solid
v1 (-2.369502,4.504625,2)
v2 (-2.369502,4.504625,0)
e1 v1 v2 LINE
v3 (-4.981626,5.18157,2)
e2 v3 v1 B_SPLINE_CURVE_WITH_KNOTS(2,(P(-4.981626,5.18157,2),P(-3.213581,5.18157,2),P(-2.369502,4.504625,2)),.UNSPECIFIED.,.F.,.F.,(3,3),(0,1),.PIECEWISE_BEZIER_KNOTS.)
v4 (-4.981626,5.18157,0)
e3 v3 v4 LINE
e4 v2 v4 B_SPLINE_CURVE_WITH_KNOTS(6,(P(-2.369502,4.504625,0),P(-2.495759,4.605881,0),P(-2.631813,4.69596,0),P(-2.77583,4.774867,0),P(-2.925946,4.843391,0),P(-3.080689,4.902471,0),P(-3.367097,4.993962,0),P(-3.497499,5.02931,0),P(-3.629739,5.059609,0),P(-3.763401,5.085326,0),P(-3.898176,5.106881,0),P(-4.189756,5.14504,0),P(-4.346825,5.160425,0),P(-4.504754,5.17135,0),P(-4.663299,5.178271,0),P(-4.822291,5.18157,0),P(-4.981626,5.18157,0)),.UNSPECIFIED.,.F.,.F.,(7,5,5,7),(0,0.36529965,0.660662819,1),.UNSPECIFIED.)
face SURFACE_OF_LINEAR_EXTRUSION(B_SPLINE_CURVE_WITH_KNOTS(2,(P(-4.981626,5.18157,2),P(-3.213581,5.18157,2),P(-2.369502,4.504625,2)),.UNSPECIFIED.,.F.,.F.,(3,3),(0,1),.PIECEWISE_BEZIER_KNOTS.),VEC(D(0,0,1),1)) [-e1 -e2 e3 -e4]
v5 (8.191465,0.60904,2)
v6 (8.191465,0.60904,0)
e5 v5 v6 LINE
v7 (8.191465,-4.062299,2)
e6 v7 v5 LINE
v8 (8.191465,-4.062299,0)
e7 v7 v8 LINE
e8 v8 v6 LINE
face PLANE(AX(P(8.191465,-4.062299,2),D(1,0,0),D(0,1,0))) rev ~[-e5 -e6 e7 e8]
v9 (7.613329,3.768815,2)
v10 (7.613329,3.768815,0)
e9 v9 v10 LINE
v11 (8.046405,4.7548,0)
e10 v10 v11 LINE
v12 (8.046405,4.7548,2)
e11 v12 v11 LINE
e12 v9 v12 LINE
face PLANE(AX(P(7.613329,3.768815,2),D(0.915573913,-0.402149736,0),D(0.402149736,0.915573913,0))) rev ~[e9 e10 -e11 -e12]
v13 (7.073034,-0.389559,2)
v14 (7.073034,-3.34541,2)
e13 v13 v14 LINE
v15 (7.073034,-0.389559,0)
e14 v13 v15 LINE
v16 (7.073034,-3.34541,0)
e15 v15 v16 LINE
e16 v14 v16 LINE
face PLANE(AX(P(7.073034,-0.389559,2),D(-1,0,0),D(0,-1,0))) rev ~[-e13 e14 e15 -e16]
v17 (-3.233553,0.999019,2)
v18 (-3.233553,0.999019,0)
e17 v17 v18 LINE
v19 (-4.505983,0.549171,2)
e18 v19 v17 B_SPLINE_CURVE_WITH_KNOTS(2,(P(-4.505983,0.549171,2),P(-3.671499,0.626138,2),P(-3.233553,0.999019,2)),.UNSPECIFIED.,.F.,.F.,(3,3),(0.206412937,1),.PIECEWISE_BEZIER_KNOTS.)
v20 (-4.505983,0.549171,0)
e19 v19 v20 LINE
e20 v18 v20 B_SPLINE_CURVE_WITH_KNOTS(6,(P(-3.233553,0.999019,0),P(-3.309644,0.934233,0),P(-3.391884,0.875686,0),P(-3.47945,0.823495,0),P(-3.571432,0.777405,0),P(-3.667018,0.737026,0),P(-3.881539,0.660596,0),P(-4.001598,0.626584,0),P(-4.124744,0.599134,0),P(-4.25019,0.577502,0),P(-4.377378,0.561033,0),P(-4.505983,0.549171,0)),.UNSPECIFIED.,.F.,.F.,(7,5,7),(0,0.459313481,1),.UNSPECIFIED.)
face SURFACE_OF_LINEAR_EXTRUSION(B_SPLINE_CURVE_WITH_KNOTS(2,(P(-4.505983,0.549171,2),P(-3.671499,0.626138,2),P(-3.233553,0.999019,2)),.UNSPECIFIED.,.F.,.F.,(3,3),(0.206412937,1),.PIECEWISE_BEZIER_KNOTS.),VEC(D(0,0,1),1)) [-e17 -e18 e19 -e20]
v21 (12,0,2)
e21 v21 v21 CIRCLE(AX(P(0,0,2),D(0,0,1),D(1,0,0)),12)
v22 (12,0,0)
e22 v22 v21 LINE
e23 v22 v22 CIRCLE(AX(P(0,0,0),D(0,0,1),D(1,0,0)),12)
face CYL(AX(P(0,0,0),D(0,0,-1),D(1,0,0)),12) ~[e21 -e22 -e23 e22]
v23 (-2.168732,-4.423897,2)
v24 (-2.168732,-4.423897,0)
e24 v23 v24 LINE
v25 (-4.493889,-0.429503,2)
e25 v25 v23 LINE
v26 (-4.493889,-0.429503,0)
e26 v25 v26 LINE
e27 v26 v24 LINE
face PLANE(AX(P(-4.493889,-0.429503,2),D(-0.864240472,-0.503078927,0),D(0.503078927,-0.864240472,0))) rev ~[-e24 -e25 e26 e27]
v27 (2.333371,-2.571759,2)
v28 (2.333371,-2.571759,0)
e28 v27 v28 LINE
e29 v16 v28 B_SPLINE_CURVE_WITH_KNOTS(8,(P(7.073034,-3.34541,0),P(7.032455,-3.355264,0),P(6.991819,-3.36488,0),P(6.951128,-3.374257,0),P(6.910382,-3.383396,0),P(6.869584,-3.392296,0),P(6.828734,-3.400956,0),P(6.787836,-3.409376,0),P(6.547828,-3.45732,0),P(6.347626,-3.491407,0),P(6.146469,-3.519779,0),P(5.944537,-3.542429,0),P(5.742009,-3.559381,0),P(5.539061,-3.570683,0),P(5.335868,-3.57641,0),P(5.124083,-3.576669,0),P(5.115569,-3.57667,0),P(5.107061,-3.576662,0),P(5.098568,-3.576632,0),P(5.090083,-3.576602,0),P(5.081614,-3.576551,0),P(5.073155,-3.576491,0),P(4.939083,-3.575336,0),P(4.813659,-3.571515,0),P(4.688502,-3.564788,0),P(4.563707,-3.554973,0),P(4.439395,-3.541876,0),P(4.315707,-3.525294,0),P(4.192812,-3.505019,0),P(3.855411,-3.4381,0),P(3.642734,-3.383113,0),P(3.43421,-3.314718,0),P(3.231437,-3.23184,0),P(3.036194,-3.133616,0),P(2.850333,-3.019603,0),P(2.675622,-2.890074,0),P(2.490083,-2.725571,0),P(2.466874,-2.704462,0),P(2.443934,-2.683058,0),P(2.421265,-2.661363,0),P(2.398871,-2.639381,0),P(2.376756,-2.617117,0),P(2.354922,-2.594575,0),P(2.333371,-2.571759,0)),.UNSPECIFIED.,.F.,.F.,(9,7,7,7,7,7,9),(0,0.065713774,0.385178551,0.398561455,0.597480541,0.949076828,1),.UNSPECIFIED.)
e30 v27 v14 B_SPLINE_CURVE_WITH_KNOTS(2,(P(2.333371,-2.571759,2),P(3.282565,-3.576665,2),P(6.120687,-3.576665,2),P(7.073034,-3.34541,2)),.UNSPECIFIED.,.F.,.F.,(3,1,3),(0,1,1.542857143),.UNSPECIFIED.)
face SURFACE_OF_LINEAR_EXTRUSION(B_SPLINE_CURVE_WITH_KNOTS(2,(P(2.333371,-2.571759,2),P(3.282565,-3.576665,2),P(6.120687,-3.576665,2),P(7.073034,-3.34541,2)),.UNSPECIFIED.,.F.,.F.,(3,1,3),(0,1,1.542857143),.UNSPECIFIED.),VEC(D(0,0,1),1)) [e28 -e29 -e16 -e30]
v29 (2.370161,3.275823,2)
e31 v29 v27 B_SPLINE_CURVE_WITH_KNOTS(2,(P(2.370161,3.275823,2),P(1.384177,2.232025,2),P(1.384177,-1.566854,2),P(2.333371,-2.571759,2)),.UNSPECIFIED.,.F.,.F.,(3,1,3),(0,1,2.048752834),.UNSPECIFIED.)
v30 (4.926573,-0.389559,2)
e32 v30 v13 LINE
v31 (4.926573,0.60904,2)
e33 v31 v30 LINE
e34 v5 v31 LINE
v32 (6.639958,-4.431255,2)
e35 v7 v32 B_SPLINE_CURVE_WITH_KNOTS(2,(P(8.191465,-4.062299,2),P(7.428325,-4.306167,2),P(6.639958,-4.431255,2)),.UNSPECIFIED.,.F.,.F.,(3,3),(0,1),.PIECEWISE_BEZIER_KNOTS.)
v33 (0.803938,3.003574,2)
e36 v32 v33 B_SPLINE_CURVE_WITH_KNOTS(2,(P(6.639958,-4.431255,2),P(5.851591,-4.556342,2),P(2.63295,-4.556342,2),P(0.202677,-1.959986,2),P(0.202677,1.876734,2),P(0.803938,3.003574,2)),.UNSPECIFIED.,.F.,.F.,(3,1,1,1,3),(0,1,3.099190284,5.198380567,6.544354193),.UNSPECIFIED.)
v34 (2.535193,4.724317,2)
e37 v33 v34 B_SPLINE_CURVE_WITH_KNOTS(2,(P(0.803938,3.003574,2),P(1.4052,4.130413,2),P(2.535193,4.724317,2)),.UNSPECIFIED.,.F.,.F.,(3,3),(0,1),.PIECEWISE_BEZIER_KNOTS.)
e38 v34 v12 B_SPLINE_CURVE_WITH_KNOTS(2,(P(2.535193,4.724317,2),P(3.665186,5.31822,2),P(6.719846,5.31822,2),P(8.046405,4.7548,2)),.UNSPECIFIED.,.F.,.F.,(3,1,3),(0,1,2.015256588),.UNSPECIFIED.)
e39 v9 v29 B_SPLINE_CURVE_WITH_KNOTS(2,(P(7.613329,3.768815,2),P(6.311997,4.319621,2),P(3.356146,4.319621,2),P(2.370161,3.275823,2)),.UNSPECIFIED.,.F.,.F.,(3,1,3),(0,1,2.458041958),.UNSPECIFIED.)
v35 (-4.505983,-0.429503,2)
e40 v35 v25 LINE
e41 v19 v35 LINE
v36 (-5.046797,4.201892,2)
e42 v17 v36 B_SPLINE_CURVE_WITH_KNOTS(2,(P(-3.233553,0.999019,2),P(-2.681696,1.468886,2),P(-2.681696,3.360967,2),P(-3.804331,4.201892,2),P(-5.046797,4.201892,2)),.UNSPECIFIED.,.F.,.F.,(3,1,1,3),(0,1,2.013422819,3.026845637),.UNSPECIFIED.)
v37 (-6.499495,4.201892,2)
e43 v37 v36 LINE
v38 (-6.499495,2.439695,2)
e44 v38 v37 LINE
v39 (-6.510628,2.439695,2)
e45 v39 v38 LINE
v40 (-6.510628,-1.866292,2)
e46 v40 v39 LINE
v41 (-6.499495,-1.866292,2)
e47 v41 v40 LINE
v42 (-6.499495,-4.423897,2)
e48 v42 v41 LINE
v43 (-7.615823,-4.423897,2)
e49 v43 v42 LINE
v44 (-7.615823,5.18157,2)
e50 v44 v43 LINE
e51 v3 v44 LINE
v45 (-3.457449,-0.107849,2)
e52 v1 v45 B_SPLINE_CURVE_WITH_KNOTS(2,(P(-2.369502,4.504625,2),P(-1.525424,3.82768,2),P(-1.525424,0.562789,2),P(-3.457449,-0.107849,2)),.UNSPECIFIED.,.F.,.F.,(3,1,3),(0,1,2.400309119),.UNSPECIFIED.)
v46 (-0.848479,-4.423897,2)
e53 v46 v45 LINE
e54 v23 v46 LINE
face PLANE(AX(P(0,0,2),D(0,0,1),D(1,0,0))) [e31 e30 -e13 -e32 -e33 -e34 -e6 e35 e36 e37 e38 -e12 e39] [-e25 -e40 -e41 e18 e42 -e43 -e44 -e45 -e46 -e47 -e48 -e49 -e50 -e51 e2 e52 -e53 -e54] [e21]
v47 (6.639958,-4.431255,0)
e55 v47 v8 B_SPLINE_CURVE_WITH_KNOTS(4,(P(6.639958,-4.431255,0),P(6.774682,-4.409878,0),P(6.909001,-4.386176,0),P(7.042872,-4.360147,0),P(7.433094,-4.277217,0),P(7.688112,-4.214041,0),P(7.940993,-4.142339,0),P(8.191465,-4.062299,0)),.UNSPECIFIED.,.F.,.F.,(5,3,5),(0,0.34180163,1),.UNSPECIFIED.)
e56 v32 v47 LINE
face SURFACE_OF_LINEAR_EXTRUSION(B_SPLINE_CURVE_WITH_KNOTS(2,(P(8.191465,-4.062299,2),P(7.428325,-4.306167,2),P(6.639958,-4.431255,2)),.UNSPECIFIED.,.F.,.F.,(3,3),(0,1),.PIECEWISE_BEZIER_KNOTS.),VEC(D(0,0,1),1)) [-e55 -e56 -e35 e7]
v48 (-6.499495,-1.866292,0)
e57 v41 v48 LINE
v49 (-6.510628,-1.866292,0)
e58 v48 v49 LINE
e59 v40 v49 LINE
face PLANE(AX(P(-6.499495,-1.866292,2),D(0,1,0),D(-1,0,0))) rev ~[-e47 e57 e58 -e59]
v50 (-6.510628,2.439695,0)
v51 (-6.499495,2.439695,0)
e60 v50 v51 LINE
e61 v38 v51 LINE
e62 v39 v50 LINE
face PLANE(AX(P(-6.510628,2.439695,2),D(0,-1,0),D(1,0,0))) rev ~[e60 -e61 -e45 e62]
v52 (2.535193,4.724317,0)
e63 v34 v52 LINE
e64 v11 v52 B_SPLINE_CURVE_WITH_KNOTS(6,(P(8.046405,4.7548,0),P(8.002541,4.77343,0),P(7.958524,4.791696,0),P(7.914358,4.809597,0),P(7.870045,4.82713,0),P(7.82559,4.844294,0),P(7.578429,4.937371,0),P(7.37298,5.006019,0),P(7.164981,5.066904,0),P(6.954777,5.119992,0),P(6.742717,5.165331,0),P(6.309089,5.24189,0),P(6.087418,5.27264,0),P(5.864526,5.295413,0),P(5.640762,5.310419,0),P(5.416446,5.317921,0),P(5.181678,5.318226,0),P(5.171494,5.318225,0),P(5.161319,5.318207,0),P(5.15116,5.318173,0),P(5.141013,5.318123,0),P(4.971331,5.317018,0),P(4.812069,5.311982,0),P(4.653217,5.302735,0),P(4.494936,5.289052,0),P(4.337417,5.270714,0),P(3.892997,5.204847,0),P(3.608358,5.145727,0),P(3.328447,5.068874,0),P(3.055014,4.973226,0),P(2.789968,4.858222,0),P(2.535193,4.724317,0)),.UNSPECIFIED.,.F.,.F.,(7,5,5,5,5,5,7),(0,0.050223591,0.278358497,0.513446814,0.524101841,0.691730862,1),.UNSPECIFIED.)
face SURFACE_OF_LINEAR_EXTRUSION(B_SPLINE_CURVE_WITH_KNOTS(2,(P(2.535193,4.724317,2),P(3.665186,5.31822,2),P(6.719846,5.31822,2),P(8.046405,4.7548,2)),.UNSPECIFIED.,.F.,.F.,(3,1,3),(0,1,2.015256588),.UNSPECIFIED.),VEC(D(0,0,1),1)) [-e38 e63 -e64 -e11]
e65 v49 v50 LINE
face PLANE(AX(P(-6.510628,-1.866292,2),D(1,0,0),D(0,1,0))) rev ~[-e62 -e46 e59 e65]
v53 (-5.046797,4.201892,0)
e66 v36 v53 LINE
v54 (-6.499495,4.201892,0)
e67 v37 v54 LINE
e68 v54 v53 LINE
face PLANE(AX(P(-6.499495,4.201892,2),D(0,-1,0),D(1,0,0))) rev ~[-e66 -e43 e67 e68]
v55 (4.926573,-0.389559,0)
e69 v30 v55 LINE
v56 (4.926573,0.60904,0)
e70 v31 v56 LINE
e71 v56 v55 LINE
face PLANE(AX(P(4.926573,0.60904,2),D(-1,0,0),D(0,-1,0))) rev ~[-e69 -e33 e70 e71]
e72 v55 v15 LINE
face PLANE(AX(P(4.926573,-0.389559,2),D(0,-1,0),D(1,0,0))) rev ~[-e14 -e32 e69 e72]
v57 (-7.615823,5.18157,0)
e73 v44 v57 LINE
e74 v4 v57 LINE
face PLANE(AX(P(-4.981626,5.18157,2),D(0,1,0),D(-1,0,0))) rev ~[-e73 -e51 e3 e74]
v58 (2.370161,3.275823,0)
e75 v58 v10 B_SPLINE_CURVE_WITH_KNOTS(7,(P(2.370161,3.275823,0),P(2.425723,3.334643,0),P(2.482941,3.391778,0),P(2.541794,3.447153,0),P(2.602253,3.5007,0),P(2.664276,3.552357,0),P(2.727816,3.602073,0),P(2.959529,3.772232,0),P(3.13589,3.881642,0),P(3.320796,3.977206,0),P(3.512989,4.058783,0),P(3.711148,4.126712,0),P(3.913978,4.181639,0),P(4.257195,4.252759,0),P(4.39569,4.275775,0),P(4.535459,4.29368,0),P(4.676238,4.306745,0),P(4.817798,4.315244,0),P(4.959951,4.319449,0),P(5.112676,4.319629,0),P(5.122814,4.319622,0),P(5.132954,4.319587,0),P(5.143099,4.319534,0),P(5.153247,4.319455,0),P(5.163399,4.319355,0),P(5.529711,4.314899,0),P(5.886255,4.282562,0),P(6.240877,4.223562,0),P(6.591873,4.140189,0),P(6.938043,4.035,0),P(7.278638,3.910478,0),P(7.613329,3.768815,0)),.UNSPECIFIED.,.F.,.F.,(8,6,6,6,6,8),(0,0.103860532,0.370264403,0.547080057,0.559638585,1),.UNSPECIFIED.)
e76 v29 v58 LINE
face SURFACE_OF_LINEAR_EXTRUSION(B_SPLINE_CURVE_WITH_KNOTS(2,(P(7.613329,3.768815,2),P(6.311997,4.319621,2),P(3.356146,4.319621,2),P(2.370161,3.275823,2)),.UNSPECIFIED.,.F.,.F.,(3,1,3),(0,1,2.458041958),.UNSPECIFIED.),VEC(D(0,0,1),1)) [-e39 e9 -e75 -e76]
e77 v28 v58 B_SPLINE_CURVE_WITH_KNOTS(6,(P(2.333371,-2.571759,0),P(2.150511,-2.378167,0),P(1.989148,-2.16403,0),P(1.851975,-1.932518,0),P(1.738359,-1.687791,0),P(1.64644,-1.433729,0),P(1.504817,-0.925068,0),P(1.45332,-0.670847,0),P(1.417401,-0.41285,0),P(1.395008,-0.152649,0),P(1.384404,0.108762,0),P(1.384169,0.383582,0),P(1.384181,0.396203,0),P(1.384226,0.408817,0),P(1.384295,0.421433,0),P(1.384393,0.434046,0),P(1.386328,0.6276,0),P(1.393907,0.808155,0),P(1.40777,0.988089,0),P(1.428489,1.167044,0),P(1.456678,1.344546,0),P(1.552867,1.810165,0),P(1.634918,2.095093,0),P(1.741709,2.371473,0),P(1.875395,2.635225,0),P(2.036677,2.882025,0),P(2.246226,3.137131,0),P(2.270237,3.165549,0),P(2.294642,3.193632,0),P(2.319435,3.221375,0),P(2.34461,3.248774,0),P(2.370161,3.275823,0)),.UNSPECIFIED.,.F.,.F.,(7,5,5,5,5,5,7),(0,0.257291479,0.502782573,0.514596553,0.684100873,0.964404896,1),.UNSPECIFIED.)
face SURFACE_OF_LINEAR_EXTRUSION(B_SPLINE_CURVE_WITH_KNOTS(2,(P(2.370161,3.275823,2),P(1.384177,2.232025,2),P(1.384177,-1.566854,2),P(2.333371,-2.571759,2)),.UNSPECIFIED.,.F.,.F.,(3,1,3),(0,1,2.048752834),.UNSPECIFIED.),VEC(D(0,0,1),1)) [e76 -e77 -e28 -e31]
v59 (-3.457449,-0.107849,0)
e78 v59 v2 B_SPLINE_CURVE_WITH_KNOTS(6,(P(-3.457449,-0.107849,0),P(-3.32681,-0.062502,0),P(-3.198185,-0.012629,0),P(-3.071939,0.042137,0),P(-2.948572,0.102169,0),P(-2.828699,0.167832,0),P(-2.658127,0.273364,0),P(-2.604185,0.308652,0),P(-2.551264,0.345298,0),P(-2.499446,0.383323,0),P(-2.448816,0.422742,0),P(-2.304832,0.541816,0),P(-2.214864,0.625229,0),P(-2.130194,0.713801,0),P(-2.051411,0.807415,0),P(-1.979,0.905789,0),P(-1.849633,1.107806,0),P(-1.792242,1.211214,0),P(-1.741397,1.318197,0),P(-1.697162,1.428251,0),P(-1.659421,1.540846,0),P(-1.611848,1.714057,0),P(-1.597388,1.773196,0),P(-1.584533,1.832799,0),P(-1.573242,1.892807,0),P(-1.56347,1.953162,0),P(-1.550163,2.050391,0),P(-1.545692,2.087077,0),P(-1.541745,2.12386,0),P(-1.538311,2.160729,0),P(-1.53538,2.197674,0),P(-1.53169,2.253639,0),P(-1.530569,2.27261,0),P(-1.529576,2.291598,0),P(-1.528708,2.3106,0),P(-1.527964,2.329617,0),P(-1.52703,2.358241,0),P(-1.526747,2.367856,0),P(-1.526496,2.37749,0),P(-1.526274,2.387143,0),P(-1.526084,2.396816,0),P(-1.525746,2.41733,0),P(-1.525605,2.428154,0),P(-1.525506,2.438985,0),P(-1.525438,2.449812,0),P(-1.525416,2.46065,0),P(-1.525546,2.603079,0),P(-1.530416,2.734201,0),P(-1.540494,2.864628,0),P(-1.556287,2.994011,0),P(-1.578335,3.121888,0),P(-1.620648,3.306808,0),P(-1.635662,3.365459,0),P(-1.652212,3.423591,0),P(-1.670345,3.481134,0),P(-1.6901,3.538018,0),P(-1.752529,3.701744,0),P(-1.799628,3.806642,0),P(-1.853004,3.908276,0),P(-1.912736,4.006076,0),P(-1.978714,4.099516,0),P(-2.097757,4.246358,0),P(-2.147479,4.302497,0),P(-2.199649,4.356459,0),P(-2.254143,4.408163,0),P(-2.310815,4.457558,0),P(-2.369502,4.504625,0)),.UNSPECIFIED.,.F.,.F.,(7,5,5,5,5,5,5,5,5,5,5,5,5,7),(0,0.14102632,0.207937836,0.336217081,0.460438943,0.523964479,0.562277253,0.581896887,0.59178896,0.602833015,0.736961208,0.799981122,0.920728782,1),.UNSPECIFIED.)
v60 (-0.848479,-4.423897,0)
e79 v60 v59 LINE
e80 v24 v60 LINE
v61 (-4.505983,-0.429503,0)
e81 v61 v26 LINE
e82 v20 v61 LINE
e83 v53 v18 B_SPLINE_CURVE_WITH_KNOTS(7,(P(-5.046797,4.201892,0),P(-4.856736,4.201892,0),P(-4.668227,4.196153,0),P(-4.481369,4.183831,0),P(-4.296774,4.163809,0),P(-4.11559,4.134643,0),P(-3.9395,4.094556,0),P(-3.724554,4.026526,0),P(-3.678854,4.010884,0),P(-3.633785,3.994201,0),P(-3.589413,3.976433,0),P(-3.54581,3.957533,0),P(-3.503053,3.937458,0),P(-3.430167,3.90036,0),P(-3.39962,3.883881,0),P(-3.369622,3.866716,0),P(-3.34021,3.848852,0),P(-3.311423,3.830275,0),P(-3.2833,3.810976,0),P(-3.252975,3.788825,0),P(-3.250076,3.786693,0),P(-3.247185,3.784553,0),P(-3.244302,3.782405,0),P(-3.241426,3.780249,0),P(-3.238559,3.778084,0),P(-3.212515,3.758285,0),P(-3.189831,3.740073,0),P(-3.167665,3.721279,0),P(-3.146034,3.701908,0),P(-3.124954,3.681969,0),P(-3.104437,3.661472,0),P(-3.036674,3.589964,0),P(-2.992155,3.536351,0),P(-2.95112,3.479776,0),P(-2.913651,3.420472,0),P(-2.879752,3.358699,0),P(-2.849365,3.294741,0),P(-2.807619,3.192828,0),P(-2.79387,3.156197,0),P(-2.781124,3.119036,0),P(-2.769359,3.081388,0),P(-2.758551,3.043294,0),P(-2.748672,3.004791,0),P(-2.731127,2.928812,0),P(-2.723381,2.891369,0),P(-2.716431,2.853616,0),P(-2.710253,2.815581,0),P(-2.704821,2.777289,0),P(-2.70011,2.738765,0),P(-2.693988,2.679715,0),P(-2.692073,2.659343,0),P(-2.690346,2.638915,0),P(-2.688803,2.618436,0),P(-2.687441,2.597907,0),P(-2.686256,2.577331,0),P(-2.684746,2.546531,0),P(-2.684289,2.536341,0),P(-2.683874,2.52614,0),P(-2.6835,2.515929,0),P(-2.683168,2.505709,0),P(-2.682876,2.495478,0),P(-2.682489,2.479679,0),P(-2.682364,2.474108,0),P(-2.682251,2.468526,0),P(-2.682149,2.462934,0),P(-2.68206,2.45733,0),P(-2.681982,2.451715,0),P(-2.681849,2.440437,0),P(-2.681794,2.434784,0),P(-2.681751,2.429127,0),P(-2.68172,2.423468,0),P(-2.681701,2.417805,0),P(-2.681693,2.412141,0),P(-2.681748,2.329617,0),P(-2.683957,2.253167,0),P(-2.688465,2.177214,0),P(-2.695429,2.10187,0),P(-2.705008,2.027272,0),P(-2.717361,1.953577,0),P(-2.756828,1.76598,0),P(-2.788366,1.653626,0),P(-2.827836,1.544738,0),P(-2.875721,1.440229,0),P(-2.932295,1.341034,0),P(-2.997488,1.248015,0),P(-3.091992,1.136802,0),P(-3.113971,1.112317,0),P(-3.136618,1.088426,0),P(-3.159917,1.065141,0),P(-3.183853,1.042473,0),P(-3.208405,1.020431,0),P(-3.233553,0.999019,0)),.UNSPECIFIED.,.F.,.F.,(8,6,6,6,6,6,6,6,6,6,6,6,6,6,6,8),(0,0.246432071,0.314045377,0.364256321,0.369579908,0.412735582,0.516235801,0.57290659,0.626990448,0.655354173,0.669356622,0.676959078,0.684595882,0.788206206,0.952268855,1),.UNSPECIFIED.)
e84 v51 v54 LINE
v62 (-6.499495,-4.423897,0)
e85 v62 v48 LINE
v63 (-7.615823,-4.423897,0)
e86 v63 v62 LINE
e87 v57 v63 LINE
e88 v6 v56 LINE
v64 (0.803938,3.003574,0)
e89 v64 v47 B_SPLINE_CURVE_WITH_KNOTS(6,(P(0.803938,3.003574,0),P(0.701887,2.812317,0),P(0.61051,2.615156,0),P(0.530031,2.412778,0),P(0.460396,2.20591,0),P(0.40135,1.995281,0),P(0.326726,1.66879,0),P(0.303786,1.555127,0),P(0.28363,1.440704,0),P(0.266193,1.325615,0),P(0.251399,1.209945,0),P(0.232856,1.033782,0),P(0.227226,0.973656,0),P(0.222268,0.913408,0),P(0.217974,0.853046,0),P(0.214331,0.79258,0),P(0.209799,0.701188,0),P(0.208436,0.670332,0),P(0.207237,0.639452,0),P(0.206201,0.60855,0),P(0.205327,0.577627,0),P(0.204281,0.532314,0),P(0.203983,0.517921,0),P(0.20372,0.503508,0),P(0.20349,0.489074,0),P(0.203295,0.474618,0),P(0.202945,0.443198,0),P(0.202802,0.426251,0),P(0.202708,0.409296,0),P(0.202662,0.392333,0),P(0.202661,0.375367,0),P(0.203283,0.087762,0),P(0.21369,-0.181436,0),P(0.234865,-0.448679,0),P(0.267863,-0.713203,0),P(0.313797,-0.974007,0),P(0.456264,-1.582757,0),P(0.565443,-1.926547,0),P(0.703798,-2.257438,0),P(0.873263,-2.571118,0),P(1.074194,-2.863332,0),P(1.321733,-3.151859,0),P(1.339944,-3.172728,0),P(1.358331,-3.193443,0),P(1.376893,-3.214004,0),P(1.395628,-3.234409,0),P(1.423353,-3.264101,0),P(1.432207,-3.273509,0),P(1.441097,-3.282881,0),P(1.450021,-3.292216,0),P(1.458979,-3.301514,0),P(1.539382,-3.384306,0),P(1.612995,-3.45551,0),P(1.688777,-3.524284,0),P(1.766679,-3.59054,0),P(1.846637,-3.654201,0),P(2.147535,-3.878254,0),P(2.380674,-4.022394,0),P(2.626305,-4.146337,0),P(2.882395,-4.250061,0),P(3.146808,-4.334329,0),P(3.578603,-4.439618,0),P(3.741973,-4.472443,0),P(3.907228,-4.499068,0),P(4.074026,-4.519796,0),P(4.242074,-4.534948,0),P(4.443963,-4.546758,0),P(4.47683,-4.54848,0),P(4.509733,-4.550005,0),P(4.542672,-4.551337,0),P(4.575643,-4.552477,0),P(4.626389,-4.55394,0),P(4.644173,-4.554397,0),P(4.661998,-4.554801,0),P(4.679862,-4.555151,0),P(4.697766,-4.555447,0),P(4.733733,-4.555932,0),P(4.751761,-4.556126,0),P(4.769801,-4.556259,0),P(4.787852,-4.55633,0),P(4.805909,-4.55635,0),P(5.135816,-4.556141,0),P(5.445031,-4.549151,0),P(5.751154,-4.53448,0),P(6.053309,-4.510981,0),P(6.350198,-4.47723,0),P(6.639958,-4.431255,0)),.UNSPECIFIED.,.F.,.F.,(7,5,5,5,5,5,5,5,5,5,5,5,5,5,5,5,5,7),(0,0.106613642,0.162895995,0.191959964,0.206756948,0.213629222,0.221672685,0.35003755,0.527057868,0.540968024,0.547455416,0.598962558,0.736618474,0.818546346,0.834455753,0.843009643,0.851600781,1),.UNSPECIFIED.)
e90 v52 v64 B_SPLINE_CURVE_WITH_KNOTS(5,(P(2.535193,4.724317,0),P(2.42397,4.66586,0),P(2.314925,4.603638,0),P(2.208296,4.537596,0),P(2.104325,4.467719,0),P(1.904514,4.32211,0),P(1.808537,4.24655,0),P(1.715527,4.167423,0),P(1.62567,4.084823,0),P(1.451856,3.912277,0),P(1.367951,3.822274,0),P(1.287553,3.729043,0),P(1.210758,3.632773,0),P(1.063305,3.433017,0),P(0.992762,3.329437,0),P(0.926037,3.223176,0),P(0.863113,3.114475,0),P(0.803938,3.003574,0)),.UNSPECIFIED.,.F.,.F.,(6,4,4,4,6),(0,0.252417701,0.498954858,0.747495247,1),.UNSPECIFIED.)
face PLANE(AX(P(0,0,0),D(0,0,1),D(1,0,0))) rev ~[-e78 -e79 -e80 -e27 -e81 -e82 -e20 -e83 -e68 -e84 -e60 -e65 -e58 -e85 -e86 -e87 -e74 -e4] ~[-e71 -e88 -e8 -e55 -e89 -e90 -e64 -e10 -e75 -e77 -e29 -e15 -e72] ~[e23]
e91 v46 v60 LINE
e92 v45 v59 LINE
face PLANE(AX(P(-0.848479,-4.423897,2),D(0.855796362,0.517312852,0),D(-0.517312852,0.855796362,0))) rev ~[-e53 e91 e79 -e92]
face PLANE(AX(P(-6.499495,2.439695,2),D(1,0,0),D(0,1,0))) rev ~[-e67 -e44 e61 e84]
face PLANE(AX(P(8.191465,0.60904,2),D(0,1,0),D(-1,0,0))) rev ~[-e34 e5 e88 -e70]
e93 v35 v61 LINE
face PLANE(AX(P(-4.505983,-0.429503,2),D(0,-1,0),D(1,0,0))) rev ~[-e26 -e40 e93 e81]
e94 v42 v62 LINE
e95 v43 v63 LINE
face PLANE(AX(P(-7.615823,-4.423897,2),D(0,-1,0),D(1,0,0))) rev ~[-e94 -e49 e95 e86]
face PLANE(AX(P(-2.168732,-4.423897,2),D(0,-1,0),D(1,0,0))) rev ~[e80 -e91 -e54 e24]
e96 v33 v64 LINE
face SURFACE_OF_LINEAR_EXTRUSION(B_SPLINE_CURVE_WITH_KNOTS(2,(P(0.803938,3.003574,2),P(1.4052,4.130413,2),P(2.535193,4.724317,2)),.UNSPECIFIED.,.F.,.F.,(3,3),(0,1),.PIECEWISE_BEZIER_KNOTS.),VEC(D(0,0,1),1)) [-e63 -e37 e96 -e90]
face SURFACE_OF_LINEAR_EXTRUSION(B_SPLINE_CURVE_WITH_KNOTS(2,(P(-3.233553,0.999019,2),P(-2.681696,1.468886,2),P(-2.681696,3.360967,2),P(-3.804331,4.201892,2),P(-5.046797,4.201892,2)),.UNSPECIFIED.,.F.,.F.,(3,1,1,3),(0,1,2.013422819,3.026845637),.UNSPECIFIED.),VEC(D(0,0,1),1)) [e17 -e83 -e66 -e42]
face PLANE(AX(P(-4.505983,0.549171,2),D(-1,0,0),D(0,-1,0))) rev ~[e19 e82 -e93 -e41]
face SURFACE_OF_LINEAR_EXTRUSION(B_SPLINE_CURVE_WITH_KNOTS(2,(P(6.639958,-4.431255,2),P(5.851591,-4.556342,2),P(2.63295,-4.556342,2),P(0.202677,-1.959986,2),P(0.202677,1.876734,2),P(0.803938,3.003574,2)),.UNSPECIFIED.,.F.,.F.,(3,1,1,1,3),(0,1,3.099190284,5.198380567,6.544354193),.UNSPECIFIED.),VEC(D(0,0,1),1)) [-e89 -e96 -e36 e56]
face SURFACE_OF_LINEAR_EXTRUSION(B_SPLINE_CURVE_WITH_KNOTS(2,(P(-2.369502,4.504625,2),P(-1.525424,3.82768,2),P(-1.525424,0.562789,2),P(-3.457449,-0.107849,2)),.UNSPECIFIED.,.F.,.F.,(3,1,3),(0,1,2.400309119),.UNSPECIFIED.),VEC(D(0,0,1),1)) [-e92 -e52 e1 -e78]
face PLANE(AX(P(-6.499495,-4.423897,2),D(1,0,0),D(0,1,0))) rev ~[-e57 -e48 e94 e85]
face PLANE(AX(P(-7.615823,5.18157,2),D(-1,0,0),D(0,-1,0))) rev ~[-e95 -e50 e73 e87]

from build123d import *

# Parameters (mm, degrees)
F0_R     = 12
F1_DEPTH = 2
F3_DEPTH = 25


with BuildPart() as f1:
    # F0 (on Top) → F1 (new body)
    with BuildSketch(Plane.XY):
        Circle(F0_R)
    extrude(amount=F1_DEPTH)

    # F2 (on face) → F3 (cut)
    with BuildSketch(Plane.XY.offset(2)):
        with BuildLine():
            Line((-6.5106279217, -1.8662924413), (-6.5106279217, 2.4396951776))
            Line((-6.5106279217, 2.4396951776), (-6.4994953498, 2.4396951776))
            Line((-6.4994953498, 2.4396951776), (-6.4994953498, 4.2018918664))
            Line((-6.4994953498, 4.2018918664), (-5.0467973821, 4.2018918664))
            add(Edge.make_bspline(
                [(-3.2430132195, 3.7814293576), (-3.8043306687, 4.2018918664), (-5.0467973821, 4.2018918664)],
                knots=[0, 0, 0, 1, 1, 1], degree=2))
            add(Edge.make_bspline(
                [(-2.6816957703, 2.4086192665), (-2.6816957703, 3.3609668488), (-3.2430132195, 3.7814293576)],
                knots=[0, 0, 0, 1, 1, 1], degree=2))
            add(Edge.make_bspline(
                [(-3.233552813, 0.9990187059), (-2.6816957703, 1.4688855594), (-2.6816957703, 2.4086192665)],
                knots=[0, 0, 0, 1, 1, 1], degree=2))
            add(Edge.make_bspline(
                [(-4.5059826225, 0.5491711407), (-3.6714994229, 0.6261384495), (-3.233552813, 0.9990187059)],
                knots=[0.2064129368, 0.2064129368, 0.2064129368, 1, 1, 1], degree=2))
            Line((-4.5059826225, 0.5491711407), (-4.5059826225, -0.4295026676))
            Line((-4.5059826225, -0.4295026676), (-4.493889183, -0.4295026676))
            Line((-4.493889183, -0.4295026676), (-2.1687315096, -4.4238965008))
            Line((-2.1687315096, -4.4238965008), (-0.8484792321, -4.4238965008))
            Line((-0.8484792321, -4.4238965008), (-3.4574490989, -0.1078488484))
            add(Edge.make_bspline(
                [(-1.5254238712, 2.4674840177), (-1.5254238712, 0.562788853), (-3.4574490989, -0.1078488484)],
                knots=[0, 0, 0, 1, 1, 1], degree=2))
            add(Edge.make_bspline(
                [(-2.3695023575, 4.5046248727), (-1.5254238712, 3.8276802336), (-1.5254238712, 2.4674840177)],
                knots=[0, 0, 0, 1, 1, 1], degree=2))
            add(Edge.make_bspline(
                [(-4.9816256932, 5.1815695118), (-3.2135808439, 5.1815695118), (-2.3695023575, 4.5046248727)],
                knots=[0, 0, 0, 1, 1, 1], degree=2))
            Line((-4.9816256932, 5.1815695118), (-7.6158233106, 5.1815695118))
            Line((-7.6158233106, 5.1815695118), (-7.6158233106, -4.4238965008))
            Line((-7.6158233106, -4.4238965008), (-6.4994953498, -4.4238965008))
            Line((-6.4994953498, -4.4238965008), (-6.4994953498, -1.8662924413))
            Line((-6.4994953498, -1.8662924413), (-6.5106279217, -1.8662924413))
        make_face()
        with BuildLine():
            Line((8.1914647062, 0.609039729), (4.9265733257, 0.609039729))
            Line((4.9265733257, 0.609039729), (4.9265733257, -0.3895587293))
            Line((4.9265733257, -0.3895587293), (7.0730344329, -0.3895587293))
            Line((7.0730344329, -0.3895587293), (7.0730344329, -3.3454101659))
            add(Edge.make_bspline(
                [(5.1220883923, -3.5766645457), (6.1206868506, -3.5766645457), (7.0730344329, -3.3454101659)],
                knots=[0, 0, 0, 1, 1, 1], degree=2))
            add(Edge.make_bspline(
                [(2.3333708029, -2.5717591498), (3.2825649165, -3.5766645457), (5.1220883923, -3.5766645457)],
                knots=[0, 0, 0, 1, 1, 1], degree=2))
            add(Edge.make_bspline(
                [(1.3841766894, 0.3777853492), (1.3841766894, -1.5668537538), (2.3333708029, -2.5717591498)],
                knots=[0, 0, 0, 1, 1, 1], degree=2))
            add(Edge.make_bspline(
                [(2.3701612725, 3.2758231908), (1.3841766894, 2.2320250128), (1.3841766894, 0.3777853492)],
                knots=[0, 0, 0, 1, 1, 1], degree=2))
            add(Edge.make_bspline(
                [(5.109474517, 4.3196213688), (3.3561458555, 4.3196213688), (2.3701612725, 3.2758231908)],
                knots=[0, 0, 0, 1, 1, 1], degree=2))
            add(Edge.make_bspline(
                [(7.6133287567, 3.7688154823), (6.3119972921, 4.3196213688), (5.109474517, 4.3196213688)],
                knots=[0, 0, 0, 1, 1, 1], degree=2))
            Line((7.6133287567, 3.7688154823), (8.0464051407, 4.7548000654))
            add(Edge.make_bspline(
                [(5.1809531435, 5.3182198271), (6.7198459256, 5.3182198271), (8.0464051407, 4.7548000654)],
                knots=[0, 0, 0, 1, 1, 1], degree=2))
            add(Edge.make_bspline(
                [(2.5351928071, 4.7243165335), (3.6651857994, 5.3182198271), (5.1809531435, 5.3182198271)],
                knots=[0, 0, 0, 1, 1, 1], degree=2))
            add(Edge.make_bspline(
                [(0.8039384273, 3.0035737164), (1.4051998149, 4.1304132399), (2.5351928071, 4.7243165335)],
                knots=[0, 0, 0, 1, 1, 1], degree=2))
            add(Edge.make_bspline(
                [(0.2026770398, 0.3777853492), (0.2026770398, 1.8767341929), (0.8039384273, 3.0035737164)],
                knots=[0, 0, 0, 1, 1, 1], degree=2))
            add(Edge.make_bspline(
                [(1.4178136901, -3.2581641953), (0.2026770398, -1.9599861995), (0.2026770398, 0.3777853492)],
                knots=[0, 0, 0, 1, 1, 1], degree=2))
            add(Edge.make_bspline(
                [(4.8130484484, -4.5563421911), (2.6329503404, -4.5563421911), (1.4178136901, -3.2581641953)],
                knots=[0, 0, 0, 1, 1, 1], degree=2))
            add(Edge.make_bspline(
                [(6.6399580489, -4.4312545947), (5.851590845, -4.5563421911), (4.8130484484, -4.5563421911)],
                knots=[0, 0, 0, 1, 1, 1], degree=2))
            add(Edge.make_bspline(
                [(8.1914647062, -4.0622987433), (7.4283252528, -4.3061669984), (6.6399580489, -4.4312545947)],
                knots=[0, 0, 0, 1, 1, 1], degree=2))
            Line((8.1914647062, -4.0622987433), (8.1914647062, 0.609039729))
        make_face()
    extrude(amount=-F3_DEPTH, mode=Mode.SUBTRACT)


solid = f1.part
